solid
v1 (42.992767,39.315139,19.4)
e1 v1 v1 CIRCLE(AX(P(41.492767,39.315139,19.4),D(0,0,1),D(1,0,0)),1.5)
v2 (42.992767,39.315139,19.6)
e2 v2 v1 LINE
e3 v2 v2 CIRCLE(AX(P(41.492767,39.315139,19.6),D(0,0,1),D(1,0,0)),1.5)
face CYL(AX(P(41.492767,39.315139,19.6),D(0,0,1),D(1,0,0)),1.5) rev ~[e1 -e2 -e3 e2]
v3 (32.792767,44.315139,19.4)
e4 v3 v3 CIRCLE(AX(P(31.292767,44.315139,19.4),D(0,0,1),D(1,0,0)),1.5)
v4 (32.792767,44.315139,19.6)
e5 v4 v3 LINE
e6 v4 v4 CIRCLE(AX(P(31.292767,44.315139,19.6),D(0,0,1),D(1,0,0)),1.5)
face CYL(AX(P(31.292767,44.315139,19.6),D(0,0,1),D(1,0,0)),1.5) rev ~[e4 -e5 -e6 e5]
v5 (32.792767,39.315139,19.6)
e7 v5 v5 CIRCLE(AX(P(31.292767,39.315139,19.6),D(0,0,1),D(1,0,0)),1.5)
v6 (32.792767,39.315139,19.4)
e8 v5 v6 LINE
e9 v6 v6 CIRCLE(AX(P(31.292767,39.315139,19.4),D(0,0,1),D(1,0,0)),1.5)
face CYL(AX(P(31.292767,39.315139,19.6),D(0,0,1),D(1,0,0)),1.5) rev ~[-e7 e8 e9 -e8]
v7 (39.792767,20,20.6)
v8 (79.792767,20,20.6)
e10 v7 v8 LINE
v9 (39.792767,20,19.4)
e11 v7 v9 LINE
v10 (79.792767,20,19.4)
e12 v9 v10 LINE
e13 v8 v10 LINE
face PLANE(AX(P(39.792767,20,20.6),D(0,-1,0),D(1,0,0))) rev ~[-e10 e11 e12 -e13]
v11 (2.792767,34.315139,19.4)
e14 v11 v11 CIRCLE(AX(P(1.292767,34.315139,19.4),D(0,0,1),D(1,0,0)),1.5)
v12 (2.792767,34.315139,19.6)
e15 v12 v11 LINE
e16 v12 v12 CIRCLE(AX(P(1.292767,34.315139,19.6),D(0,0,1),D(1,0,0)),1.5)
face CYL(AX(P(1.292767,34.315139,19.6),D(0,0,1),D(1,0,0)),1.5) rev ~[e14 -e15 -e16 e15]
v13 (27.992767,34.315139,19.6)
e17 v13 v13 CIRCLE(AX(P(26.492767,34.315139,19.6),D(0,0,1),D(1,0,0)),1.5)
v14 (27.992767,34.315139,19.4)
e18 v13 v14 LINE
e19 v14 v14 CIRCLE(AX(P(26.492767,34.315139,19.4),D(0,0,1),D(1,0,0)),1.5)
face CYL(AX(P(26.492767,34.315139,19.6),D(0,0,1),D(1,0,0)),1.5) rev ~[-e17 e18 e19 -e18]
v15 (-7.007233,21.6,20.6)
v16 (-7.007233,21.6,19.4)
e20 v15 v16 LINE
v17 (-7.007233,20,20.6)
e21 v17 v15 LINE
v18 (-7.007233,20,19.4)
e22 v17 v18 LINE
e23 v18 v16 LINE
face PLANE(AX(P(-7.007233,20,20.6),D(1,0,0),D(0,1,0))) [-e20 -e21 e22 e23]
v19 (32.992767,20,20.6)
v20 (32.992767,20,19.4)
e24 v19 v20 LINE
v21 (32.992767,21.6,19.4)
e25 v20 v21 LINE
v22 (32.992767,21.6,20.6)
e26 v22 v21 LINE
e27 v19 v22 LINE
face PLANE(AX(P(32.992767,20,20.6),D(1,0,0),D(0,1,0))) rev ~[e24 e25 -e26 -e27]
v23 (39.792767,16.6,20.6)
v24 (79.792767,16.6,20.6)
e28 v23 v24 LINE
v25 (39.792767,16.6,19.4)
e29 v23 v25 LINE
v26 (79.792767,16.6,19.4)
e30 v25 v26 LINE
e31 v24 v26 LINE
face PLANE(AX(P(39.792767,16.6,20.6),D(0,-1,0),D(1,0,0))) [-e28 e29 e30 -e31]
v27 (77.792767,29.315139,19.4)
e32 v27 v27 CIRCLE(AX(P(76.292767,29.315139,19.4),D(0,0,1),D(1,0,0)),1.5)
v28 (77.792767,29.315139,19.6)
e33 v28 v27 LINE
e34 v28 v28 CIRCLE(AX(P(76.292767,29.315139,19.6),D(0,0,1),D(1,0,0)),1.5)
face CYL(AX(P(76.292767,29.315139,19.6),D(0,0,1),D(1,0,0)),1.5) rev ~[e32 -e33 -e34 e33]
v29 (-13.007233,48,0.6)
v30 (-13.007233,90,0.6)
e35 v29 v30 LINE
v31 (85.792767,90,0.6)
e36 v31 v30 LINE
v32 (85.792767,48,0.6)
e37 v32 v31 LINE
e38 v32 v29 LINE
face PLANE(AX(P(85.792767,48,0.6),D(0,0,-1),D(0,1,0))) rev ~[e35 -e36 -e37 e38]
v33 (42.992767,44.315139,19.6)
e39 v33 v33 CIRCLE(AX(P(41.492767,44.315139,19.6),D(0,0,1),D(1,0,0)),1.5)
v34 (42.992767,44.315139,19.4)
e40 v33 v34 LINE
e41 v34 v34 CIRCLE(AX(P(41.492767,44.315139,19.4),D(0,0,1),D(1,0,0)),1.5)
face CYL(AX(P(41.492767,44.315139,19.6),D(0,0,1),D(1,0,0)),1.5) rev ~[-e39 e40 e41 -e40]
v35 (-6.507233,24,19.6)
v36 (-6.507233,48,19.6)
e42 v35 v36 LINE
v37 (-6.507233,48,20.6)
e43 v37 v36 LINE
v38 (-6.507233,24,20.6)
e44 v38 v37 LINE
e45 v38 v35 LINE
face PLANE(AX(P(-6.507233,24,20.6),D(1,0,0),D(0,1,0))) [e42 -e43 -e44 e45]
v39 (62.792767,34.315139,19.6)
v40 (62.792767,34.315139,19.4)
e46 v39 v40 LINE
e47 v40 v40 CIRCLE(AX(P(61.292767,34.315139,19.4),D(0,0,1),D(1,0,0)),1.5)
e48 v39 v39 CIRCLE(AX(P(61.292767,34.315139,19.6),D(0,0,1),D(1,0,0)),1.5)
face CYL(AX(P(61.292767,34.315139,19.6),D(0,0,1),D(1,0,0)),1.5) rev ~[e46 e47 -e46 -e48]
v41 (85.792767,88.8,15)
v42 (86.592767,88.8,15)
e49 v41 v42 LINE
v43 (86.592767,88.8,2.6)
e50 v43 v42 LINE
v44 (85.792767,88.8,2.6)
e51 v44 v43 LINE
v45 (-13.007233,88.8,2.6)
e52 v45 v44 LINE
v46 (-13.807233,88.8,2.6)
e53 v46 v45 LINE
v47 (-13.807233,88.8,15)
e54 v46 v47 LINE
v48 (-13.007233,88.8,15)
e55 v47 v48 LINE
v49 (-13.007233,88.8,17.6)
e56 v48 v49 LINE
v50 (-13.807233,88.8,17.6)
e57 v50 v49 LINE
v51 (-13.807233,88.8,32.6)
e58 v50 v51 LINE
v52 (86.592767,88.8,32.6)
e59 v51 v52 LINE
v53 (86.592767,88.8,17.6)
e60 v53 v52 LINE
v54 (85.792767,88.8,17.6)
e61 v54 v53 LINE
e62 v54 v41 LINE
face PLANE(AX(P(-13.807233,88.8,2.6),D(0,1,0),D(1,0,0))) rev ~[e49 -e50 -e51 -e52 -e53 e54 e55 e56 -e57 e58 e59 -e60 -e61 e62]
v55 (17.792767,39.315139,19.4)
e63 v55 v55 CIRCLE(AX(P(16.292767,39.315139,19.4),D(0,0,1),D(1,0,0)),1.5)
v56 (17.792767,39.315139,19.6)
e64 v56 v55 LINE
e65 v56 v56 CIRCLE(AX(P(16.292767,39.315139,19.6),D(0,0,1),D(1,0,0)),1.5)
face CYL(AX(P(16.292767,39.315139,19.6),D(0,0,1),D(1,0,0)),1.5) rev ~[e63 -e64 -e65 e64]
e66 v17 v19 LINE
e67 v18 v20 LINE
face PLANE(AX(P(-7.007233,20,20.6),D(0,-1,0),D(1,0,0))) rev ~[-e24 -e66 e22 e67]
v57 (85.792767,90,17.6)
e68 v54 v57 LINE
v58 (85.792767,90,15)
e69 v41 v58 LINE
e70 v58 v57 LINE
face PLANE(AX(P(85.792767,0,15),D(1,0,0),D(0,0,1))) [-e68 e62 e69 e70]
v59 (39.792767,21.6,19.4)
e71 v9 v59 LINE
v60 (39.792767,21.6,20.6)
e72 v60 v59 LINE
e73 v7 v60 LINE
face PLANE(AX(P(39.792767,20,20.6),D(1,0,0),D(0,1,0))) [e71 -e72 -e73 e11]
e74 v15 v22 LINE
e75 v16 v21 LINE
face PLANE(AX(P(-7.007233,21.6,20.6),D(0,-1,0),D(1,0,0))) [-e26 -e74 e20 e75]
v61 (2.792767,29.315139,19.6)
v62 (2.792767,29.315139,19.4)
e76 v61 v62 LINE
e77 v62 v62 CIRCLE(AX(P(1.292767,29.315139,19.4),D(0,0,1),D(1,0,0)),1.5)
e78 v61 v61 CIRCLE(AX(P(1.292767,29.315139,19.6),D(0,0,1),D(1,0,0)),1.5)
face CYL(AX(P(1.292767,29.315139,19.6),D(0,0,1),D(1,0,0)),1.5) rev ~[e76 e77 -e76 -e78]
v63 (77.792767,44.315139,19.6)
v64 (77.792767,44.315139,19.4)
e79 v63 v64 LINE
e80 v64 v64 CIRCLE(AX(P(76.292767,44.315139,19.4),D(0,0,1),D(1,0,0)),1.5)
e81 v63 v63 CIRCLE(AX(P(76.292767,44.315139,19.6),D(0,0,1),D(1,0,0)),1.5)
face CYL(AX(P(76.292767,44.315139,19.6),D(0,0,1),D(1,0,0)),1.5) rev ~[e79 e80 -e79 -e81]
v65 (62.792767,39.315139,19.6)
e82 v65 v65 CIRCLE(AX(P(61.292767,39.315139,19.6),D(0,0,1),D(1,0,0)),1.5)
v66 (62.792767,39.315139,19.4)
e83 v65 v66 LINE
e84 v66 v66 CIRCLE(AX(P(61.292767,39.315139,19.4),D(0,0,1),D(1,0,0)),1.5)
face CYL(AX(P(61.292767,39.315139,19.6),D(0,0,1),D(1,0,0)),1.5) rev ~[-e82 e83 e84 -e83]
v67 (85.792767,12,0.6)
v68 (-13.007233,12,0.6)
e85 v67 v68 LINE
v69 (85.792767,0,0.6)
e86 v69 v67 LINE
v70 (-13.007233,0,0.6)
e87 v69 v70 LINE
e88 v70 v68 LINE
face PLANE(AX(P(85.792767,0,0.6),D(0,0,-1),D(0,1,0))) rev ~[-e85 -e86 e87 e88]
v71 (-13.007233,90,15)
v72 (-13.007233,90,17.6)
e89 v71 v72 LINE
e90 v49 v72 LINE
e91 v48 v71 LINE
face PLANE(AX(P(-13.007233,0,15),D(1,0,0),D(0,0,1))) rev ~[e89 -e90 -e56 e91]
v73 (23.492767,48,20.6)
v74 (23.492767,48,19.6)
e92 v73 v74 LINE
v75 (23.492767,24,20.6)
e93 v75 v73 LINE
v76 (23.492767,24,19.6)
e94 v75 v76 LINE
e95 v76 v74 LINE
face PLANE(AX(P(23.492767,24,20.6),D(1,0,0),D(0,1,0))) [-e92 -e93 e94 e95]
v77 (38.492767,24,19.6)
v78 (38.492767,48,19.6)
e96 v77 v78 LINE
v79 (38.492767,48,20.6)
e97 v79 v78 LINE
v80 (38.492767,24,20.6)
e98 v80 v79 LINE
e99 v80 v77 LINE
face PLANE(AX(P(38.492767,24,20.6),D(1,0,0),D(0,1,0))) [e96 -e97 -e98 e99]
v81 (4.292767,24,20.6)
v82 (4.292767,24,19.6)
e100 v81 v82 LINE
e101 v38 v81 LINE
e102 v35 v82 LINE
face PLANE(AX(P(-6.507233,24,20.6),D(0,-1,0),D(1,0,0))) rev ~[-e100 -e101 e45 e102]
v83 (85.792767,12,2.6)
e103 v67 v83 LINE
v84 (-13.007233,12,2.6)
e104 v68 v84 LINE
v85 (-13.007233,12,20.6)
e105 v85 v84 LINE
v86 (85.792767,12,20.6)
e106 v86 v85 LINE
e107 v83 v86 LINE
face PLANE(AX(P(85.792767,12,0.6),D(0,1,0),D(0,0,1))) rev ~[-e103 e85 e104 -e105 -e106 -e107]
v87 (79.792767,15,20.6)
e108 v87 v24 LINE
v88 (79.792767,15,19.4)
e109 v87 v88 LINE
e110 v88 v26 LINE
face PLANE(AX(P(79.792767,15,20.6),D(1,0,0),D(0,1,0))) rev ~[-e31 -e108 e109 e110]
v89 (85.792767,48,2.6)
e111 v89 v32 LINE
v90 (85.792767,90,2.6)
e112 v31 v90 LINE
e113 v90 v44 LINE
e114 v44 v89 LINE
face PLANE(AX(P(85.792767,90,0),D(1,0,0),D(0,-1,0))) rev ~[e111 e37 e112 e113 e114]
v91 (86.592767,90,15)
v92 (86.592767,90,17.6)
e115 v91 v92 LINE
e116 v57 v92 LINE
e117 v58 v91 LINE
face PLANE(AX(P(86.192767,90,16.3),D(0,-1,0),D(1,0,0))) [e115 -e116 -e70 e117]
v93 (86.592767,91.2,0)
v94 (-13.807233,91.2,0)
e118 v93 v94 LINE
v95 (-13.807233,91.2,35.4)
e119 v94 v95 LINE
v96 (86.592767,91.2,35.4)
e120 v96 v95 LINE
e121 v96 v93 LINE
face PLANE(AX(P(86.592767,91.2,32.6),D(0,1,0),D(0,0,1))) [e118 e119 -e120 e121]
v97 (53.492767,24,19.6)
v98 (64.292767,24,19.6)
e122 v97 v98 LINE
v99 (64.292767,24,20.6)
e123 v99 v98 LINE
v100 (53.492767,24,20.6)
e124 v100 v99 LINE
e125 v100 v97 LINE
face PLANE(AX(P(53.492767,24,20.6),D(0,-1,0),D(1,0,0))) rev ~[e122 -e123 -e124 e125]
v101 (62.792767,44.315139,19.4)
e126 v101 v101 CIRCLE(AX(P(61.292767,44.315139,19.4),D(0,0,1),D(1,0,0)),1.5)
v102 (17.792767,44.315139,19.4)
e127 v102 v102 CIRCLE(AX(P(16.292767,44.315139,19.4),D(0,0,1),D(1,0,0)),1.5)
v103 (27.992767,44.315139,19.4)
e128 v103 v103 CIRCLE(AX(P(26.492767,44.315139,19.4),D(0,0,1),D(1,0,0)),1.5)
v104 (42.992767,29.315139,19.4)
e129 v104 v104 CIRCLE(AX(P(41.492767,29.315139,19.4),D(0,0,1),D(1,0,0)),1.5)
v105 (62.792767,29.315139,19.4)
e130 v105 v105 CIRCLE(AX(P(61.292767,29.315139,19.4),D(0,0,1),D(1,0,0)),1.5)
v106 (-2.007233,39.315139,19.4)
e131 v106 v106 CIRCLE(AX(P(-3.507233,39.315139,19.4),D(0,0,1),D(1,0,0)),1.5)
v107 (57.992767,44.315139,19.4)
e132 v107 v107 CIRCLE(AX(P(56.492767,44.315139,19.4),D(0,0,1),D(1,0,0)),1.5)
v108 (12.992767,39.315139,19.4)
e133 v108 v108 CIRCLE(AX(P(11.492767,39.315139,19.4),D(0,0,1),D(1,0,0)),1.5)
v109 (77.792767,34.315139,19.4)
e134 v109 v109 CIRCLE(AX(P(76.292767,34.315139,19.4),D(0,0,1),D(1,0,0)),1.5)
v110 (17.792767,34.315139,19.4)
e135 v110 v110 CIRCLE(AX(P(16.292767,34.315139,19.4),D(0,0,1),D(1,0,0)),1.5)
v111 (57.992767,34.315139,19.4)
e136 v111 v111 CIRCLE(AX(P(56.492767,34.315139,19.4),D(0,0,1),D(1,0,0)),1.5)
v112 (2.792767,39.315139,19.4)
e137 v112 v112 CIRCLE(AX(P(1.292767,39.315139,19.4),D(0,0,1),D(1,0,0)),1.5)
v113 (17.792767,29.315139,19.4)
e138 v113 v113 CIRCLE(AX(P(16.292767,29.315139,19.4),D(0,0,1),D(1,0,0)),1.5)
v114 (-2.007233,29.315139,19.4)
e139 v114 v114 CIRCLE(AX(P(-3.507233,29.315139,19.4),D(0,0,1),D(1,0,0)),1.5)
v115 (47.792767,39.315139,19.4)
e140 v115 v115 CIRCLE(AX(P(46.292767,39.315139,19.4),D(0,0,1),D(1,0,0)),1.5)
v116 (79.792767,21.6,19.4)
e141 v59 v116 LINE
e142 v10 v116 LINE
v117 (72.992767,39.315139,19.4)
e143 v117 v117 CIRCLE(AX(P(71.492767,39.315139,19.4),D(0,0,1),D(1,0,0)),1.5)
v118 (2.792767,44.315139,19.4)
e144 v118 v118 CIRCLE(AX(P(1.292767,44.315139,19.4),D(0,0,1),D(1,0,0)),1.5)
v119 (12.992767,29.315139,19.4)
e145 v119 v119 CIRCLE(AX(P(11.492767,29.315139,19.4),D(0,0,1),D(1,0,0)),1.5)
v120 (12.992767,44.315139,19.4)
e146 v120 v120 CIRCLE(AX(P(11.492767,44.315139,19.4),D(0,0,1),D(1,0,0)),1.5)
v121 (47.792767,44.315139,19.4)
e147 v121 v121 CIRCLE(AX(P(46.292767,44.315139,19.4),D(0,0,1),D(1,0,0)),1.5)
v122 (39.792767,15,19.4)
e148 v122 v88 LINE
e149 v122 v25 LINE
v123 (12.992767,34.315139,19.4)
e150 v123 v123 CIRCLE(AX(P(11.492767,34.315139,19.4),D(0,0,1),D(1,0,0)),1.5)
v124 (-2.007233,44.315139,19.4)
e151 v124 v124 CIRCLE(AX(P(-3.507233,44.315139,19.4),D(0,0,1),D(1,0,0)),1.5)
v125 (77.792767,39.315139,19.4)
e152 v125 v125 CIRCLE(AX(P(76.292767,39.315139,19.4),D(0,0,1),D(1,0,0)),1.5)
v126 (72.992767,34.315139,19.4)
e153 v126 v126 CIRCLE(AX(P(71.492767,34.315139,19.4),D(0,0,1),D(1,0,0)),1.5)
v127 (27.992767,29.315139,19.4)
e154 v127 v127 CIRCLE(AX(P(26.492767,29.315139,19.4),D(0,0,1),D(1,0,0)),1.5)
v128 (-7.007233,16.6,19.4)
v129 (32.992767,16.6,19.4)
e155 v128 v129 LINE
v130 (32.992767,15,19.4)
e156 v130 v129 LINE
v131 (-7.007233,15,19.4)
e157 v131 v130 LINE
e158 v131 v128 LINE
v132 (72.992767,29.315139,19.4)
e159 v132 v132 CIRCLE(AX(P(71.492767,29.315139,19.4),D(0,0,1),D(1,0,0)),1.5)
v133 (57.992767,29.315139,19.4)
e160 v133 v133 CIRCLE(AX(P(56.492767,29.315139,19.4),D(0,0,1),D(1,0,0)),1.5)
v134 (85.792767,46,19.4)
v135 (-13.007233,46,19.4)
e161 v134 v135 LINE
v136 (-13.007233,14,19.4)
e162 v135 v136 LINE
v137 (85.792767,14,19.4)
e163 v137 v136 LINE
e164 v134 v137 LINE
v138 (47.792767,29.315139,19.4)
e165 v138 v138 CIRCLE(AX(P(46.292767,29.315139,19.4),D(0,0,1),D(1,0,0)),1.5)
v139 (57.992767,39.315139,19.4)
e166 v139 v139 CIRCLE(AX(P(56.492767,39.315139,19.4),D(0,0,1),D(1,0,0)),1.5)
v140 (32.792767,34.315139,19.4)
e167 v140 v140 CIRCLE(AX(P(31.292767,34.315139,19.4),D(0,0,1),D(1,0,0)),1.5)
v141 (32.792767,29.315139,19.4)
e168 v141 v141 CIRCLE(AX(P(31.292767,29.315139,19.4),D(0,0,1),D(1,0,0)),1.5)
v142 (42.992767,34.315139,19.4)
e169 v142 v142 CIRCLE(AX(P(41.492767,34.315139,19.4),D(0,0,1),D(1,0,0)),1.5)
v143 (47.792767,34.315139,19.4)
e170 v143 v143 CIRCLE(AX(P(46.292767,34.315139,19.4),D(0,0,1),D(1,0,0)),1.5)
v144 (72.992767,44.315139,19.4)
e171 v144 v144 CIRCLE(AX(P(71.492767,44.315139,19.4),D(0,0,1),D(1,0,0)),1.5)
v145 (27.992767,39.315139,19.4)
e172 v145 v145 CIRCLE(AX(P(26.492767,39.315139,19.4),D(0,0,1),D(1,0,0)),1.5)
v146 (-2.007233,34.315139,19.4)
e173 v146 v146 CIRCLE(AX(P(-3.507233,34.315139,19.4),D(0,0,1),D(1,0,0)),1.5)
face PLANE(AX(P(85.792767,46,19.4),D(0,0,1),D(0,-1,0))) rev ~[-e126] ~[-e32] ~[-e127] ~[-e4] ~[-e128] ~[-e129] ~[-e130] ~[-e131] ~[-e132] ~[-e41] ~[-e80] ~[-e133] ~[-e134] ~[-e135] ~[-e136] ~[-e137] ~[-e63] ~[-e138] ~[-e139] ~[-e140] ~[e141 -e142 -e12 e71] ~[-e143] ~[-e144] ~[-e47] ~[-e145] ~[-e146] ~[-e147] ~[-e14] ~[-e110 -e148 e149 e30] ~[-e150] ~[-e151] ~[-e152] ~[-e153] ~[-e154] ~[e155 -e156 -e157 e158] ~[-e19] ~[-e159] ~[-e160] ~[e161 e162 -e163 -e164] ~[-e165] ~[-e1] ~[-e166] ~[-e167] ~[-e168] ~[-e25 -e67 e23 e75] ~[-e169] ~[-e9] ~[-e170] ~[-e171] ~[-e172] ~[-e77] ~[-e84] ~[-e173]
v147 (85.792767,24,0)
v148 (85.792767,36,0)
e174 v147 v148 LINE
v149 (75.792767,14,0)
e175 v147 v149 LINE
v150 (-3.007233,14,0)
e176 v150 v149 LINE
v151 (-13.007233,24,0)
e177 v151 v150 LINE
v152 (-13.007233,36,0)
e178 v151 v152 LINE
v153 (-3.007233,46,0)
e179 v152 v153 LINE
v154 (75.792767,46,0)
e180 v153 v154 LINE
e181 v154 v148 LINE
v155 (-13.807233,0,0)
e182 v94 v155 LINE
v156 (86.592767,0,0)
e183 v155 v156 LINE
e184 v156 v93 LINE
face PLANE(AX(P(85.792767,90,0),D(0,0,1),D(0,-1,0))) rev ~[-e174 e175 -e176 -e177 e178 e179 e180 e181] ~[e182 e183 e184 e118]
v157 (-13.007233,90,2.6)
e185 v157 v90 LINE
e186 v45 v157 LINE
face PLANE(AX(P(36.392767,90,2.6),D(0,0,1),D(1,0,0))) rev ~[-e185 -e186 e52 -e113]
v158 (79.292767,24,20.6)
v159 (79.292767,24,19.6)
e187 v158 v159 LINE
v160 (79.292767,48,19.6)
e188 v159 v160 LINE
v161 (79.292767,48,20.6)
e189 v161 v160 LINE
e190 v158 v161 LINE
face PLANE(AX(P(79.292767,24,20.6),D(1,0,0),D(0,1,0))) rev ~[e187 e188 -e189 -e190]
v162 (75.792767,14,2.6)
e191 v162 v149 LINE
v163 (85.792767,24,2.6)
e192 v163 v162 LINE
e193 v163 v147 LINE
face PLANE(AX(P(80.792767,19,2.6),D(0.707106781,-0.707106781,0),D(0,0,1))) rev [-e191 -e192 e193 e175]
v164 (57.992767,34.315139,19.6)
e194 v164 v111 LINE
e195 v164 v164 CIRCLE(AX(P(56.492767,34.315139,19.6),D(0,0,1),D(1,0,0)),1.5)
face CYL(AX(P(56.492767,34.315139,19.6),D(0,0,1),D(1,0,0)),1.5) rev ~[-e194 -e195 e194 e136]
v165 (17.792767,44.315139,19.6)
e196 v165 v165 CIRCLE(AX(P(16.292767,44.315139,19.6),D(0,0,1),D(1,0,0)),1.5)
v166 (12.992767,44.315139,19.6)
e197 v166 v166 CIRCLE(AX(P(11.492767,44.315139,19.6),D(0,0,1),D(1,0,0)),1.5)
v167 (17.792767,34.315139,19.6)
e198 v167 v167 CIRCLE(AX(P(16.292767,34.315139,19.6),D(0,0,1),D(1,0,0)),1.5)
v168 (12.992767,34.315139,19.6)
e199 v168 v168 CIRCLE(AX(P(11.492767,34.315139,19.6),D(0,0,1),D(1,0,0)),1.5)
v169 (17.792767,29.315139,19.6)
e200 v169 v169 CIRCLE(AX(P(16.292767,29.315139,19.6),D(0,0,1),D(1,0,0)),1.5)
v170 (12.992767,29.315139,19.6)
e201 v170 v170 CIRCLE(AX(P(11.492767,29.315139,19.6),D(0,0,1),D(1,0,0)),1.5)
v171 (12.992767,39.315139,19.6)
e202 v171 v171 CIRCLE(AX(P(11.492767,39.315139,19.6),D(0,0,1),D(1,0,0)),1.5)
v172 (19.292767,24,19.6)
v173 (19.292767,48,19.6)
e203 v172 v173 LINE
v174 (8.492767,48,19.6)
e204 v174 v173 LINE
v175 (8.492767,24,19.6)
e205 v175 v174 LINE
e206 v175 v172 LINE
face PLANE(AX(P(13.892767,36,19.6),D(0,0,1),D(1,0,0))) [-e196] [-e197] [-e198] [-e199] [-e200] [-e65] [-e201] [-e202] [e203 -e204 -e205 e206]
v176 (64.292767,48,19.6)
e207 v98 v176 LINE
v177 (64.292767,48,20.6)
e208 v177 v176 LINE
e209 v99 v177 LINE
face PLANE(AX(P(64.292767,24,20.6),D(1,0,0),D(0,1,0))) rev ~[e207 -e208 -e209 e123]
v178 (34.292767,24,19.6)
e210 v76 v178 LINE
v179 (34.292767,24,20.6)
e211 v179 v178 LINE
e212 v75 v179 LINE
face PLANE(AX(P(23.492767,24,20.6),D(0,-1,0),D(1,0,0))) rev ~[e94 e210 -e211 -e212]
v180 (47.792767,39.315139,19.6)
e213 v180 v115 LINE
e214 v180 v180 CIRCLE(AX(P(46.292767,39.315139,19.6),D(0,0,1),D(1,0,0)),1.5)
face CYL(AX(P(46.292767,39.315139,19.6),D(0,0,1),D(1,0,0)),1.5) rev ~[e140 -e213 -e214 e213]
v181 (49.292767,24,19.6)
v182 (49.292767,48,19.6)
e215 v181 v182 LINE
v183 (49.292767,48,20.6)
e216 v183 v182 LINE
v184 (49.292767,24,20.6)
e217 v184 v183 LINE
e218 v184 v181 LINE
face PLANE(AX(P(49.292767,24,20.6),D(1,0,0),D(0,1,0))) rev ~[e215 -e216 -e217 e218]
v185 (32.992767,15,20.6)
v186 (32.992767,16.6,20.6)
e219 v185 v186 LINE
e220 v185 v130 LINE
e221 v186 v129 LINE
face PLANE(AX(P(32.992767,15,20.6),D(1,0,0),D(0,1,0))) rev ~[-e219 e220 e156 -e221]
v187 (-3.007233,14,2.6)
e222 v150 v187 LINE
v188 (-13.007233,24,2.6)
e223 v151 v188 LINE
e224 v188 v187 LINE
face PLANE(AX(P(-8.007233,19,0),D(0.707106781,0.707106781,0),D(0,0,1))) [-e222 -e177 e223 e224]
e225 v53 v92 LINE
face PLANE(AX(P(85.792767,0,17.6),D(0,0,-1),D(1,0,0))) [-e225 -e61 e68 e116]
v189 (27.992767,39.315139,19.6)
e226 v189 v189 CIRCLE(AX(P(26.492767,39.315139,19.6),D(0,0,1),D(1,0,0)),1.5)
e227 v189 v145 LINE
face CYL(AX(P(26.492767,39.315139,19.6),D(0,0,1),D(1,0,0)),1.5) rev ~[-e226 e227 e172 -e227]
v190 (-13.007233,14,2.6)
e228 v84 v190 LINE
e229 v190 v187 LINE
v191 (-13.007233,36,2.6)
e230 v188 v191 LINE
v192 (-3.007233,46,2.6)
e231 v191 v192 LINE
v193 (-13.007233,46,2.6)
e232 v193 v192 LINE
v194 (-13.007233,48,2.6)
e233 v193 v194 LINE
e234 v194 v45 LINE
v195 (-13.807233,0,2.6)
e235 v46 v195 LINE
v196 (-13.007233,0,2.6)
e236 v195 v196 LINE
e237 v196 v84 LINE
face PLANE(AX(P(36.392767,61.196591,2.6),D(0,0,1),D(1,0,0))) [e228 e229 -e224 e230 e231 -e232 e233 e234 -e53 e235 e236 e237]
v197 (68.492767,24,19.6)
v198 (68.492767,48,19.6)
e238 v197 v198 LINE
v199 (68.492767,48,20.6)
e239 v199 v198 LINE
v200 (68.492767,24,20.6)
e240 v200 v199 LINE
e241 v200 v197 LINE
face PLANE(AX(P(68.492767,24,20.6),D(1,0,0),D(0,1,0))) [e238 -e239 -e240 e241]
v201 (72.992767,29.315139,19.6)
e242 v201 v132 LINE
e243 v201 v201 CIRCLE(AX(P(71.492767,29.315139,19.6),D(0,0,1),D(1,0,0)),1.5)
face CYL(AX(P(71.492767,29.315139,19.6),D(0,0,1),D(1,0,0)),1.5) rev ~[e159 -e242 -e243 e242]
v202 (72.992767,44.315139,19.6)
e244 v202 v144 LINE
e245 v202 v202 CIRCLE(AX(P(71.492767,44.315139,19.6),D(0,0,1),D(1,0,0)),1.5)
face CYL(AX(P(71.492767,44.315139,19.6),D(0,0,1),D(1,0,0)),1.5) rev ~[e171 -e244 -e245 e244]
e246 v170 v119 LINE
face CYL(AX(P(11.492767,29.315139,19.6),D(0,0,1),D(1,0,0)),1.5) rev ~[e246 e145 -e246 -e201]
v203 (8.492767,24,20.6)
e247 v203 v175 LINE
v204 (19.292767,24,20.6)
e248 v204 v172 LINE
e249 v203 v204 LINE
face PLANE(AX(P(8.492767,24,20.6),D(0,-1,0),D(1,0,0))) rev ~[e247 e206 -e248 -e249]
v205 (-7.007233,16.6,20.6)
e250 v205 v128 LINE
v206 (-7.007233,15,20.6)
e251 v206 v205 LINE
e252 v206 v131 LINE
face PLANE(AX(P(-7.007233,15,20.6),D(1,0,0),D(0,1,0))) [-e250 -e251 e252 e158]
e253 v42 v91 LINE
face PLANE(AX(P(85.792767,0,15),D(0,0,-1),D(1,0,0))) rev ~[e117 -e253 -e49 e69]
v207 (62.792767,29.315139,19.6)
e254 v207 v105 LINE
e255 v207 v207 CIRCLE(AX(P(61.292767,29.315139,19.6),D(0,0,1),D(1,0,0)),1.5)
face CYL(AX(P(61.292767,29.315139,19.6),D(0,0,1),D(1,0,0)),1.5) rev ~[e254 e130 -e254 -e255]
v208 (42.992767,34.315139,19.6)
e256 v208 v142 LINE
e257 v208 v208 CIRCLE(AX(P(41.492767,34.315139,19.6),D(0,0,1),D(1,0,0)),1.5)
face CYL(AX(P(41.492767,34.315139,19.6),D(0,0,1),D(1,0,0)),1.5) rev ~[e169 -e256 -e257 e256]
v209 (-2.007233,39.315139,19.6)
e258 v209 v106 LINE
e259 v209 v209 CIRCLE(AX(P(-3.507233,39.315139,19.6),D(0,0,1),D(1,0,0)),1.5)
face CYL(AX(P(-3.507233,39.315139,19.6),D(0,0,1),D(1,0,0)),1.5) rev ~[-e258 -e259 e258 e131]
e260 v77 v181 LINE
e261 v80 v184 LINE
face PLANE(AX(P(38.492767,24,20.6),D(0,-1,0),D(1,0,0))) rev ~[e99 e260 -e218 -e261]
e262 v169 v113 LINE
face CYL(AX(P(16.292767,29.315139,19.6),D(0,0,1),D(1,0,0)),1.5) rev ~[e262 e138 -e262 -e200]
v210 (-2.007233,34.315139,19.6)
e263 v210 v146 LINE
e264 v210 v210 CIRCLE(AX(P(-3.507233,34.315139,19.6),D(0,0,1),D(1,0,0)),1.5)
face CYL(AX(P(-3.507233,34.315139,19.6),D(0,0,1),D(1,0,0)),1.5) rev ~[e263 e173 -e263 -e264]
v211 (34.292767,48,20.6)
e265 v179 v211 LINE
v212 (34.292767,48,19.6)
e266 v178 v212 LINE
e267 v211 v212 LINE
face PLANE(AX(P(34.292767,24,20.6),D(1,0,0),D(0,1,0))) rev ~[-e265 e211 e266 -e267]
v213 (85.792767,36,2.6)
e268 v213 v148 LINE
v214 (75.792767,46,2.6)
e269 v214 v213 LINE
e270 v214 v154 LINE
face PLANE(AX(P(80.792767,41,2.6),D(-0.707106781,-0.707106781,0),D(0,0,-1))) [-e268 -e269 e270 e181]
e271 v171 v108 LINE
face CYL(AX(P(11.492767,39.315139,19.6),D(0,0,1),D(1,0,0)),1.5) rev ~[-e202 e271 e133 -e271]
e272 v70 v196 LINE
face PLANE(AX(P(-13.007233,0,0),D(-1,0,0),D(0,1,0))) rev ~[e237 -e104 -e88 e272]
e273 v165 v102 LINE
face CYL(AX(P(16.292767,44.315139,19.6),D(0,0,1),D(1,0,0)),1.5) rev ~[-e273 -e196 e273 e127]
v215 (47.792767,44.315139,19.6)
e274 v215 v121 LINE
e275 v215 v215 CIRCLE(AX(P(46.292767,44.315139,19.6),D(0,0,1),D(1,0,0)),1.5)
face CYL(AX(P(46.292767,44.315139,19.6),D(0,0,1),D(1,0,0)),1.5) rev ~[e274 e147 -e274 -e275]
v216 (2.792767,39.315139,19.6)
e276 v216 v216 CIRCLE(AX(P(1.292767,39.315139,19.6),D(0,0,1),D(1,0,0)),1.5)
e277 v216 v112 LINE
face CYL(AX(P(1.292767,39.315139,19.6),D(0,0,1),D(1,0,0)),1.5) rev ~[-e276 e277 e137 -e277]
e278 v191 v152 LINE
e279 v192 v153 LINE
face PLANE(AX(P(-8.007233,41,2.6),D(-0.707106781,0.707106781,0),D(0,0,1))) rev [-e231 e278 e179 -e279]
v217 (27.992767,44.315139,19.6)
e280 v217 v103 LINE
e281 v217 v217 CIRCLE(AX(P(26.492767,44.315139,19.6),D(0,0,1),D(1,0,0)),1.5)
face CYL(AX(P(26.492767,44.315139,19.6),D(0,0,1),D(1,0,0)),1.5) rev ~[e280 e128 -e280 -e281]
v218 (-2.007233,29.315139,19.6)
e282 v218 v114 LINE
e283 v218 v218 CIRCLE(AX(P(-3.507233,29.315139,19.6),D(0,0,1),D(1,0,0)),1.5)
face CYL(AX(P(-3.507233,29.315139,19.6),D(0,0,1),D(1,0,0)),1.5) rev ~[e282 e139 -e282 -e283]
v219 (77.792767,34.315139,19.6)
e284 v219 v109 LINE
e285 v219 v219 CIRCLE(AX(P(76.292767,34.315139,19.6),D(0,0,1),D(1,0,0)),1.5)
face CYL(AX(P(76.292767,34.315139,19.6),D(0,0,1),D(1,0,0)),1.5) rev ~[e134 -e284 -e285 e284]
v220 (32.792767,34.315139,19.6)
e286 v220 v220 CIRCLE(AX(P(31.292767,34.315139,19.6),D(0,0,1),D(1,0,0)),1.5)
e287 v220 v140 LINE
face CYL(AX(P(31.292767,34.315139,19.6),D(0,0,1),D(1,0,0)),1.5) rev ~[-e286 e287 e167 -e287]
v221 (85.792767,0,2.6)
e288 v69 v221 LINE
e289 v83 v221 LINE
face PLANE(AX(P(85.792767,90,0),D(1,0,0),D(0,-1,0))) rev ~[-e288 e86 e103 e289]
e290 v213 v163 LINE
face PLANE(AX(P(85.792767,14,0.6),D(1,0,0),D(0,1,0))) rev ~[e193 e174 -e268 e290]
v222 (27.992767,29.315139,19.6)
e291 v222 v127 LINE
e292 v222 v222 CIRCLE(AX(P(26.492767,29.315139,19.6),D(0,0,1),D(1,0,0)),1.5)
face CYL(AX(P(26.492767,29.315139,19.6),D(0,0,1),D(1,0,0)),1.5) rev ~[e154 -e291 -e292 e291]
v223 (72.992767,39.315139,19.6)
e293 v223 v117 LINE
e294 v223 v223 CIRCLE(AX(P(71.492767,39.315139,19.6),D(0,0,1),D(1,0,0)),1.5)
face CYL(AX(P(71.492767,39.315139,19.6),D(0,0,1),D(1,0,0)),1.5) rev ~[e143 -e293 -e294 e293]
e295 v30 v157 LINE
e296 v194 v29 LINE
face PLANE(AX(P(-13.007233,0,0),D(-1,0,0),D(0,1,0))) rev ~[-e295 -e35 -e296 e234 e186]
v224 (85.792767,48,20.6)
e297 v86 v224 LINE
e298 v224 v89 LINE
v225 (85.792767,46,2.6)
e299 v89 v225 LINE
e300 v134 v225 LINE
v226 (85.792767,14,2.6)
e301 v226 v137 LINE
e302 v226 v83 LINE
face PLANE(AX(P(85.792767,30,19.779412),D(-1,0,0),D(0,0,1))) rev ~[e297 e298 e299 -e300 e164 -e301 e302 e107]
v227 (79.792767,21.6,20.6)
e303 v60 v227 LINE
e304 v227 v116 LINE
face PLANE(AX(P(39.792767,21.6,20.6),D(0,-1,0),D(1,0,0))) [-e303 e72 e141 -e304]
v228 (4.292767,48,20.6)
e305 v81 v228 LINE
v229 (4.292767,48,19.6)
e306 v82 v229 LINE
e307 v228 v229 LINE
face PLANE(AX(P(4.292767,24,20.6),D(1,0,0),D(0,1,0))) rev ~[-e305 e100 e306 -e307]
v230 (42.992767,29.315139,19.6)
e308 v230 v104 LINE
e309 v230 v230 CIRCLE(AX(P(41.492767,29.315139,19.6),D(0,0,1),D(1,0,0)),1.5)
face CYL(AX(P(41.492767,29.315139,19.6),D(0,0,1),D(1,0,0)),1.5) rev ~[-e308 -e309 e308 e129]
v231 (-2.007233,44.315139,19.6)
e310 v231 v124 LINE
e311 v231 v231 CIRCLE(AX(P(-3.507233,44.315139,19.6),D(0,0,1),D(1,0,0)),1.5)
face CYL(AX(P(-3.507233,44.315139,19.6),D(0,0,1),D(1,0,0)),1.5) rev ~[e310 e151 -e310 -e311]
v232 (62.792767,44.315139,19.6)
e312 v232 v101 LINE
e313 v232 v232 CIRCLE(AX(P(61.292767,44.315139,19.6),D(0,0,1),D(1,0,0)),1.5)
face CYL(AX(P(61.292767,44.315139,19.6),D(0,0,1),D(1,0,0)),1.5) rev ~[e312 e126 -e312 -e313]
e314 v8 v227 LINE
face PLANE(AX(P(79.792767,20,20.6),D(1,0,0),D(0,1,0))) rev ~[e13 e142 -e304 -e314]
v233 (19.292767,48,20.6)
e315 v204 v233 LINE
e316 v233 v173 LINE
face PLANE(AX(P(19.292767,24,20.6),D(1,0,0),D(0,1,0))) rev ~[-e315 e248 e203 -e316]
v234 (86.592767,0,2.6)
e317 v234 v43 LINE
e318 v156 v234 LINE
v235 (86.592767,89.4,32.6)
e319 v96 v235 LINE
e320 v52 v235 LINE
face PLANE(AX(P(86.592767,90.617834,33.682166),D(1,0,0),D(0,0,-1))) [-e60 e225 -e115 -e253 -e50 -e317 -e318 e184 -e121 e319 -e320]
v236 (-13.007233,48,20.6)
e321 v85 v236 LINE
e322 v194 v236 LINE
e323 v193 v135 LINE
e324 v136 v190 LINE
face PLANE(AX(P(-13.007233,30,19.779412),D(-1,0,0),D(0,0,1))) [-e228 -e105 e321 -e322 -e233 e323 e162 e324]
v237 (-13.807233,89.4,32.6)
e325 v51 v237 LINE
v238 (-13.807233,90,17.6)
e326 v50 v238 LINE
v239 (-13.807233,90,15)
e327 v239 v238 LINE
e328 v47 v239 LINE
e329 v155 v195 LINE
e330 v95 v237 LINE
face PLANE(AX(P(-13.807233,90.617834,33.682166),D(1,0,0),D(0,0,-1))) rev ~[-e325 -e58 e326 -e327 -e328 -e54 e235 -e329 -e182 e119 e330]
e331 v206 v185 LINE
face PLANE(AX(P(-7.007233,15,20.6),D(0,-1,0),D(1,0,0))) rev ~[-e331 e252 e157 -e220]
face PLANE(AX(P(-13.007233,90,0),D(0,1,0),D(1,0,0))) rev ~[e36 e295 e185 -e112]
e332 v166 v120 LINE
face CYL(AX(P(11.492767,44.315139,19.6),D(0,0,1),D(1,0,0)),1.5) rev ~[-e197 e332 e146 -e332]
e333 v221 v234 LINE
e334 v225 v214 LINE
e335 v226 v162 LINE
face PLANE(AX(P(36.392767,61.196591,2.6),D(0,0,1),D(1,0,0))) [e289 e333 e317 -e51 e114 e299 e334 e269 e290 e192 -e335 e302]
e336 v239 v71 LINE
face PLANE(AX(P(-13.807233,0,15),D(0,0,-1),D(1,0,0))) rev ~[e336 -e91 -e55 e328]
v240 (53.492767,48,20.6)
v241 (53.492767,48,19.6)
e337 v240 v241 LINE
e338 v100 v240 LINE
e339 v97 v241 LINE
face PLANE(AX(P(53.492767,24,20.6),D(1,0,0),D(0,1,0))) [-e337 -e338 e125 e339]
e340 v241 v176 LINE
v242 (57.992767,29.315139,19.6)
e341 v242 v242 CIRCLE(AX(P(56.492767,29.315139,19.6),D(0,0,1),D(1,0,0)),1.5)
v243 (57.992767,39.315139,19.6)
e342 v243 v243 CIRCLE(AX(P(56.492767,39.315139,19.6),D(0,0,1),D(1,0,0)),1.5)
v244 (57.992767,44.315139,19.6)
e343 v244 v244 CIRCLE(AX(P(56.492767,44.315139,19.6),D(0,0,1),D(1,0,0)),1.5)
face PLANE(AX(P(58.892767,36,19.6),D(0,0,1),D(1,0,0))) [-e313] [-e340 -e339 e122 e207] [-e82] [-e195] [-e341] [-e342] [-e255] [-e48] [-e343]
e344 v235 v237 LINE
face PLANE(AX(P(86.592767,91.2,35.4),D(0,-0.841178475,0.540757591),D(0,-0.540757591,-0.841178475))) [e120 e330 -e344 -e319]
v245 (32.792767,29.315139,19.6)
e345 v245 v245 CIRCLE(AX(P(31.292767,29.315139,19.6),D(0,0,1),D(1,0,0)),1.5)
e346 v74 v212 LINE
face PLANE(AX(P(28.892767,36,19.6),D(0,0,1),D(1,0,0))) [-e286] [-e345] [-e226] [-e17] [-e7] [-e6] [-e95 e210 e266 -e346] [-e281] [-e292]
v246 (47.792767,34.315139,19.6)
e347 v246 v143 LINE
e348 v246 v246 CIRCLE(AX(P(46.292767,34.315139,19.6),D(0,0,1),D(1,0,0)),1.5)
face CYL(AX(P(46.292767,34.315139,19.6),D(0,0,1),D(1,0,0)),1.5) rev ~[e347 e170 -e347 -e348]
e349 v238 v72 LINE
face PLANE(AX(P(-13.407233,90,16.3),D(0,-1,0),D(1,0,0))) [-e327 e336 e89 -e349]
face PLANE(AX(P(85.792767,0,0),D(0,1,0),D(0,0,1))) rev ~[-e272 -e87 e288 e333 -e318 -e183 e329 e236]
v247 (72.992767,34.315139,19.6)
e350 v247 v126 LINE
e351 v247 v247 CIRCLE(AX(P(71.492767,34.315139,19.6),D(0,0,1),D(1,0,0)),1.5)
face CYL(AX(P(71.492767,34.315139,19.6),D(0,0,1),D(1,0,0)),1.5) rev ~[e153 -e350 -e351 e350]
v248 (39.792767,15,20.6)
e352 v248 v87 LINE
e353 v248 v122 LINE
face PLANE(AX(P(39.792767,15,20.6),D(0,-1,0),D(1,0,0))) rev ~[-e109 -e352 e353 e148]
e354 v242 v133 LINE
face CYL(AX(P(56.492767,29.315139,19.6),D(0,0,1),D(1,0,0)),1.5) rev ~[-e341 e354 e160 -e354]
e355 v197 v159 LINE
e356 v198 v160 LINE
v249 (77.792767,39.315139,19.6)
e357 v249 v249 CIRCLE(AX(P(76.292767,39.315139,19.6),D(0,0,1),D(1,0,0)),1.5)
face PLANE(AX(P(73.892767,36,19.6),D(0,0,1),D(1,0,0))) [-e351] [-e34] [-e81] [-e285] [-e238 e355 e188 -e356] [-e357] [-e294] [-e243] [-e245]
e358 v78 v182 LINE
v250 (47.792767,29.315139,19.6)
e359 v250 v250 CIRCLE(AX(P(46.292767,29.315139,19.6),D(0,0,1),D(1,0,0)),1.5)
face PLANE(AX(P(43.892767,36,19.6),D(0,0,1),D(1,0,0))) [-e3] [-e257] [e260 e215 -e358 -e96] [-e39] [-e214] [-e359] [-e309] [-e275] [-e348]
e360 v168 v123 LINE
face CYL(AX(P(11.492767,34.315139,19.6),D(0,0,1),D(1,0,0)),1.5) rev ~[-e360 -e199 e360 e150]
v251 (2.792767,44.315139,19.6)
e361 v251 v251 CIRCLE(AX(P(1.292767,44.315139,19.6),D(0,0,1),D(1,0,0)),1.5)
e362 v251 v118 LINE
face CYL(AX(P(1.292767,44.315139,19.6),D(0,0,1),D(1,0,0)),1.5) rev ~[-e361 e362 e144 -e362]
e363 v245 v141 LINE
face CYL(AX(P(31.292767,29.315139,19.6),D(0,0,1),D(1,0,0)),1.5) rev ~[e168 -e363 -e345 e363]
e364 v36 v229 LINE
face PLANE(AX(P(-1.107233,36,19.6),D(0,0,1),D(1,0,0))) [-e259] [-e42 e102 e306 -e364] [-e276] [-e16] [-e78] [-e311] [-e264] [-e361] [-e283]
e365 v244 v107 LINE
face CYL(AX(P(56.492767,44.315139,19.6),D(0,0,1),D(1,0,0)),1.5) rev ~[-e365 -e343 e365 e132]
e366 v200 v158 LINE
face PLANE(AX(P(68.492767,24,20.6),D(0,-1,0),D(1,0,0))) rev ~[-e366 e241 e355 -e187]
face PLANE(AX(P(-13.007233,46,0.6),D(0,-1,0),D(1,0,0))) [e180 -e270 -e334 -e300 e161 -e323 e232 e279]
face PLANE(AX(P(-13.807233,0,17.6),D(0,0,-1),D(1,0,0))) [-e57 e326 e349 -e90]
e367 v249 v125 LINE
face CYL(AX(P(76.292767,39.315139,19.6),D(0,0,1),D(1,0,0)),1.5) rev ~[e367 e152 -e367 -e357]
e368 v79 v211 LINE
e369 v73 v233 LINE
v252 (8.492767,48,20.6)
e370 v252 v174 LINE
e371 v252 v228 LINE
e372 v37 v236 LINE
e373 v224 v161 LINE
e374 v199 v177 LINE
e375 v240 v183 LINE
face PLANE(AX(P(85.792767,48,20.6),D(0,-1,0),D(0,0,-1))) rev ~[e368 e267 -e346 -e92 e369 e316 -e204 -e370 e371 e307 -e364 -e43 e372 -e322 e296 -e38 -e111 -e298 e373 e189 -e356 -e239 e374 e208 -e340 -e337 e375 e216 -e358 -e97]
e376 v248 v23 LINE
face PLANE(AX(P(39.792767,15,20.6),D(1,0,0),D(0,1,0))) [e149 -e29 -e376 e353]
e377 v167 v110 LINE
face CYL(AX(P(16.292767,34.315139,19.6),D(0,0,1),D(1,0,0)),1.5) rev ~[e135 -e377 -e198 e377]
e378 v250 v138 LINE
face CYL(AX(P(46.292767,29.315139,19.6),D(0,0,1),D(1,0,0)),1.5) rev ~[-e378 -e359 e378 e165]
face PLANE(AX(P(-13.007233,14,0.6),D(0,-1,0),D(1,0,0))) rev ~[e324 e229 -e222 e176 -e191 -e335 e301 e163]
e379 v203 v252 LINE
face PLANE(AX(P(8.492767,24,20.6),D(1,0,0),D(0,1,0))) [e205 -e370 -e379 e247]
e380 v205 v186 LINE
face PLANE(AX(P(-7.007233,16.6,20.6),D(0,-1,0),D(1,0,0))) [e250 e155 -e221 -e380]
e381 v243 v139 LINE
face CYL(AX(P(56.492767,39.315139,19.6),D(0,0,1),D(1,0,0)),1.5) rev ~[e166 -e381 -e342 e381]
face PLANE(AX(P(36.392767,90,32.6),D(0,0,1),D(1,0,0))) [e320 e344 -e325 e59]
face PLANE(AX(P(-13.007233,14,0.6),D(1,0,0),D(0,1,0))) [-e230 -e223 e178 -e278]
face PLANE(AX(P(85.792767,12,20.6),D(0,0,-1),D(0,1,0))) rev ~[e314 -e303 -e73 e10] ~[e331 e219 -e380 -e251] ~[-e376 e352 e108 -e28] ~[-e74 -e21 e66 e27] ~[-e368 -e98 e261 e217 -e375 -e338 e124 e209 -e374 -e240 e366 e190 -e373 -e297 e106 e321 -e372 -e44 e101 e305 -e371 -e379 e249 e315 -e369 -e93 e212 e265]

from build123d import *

# Parameters (mm, degrees)
BOSS_EXTRUDE1_DEPTH = 2.6
SKETCH2_W           = 100.4
SKETCH2_H           = 2.4
BOSS_EXTRUDE2_DEPTH = 30
LPATTERN1_COUNT     = 2
LPATTERN1_PITCH     = 15
SKETCH5_W           = 2.6
SKETCH5_H           = 2
BOSS_EXTRUDE4_DEPTH = 98.8
SKETCH7_W           = 0.8
SKETCH7_H           = 2.6
CUT_EXTRUDE1_DEPTH  = 90
SKETCH8_W           = 0.8
SKETCH8_H           = 2.6
CUT_EXTRUDE2_DEPTH  = 90
BOSS_EXTRUDE5_DEPTH = 100.4
SKETCH11_W          = 10.8
SKETCH11_H          = 24
CUT_EXTRUDE3_DEPTH  = 1
LPATTERN2_COUNT     = 6
LPATTERN2_PITCH     = 15
SKETCH13_W          = 98.8
SKETCH13_H          = 32
CUT_EXTRUDE4_DEPTH  = 10
CHAMFER1_SIZE       = 10
SKETCH15_R          = 1.5
CUT_EXTRUDE17_DEPTH = 10
SKETCH18_W          = 40
SKETCH18_H          = 1.6
CUT_EXTRUDE18_DEPTH = 10


with BuildPart() as part:
    # Sketch1 → Boss-Extrude1 (new body)
    with BuildSketch(Plane.XY):
        Polygon((-13.007233288, 0), (-13.007233288, 90), (85.792766712, 90), (85.792766712, 0), (86.592766712, 0), (86.592766712, 91.2), (-13.807233288, 91.2), (-13.807233288, 0), align=None)
    boss_extrude1 = extrude(amount=BOSS_EXTRUDE1_DEPTH)

    # Sketch2 → Boss-Extrude2 (add)
    with BuildSketch(Plane.XY.offset(2.6)):
        with Locations((36.392766712, 90)):
            Rectangle(SKETCH2_W, SKETCH2_H)
    extrude(amount=BOSS_EXTRUDE2_DEPTH)

    # LPattern1: Boss-Extrude1 ×2
    with Locations(*[(0, 0, i * LPATTERN1_PITCH) for i in range(1, LPATTERN1_COUNT)]):
        add(boss_extrude1)

    # Sketch5 → Boss-Extrude4 (add)
    with BuildSketch(Plane.ZY.offset(-85.792766712)):
        Polygon((20.6, 12), (20.6, 48), (17.6, 48), (17.6, 46), (19.4, 46), (19.4, 14), (17.6, 14), (17.6, 12), align=None)
        Polygon((15, 46), (15, 48), (5.6, 48), (0.6, 48), (0.6, 90), (0, 90), (0, 48.076108626), (0, 12.076108626), (0, 0), (0.6, 0), (0.6, 12), (5.6, 12), (15, 12), (15, 14), (0.6, 14), (0.6, 46), align=None)
        with Locations((16.3, 13)):
            Rectangle(SKETCH5_W, SKETCH5_H)
        with Locations((16.3, 47)):
            Rectangle(SKETCH5_W, SKETCH5_H)
    extrude(amount=BOSS_EXTRUDE4_DEPTH)

    # Sketch7 → Cut-Extrude1 (cut)
    with BuildSketch(Plane.XZ):
        with Locations((-13.407233288, 16.3)):
            Rectangle(SKETCH7_W, SKETCH7_H)
    extrude(amount=-CUT_EXTRUDE1_DEPTH, mode=Mode.SUBTRACT)

    # Sketch8 → Cut-Extrude2 (cut)
    with BuildSketch(Plane.XZ):
        with Locations((86.192766712, 16.3)):
            Rectangle(SKETCH8_W, SKETCH8_H)
    extrude(amount=-CUT_EXTRUDE2_DEPTH, mode=Mode.SUBTRACT)

    # Sketch10 → Boss-Extrude5 (add)
    with BuildSketch(Plane(origin=(86.592766712, 0, 0), x_dir=(0, 0, -1), z_dir=(1, 0, 0))):
        Polygon((-35.4, 91.2), (-32.6, 89.4), (-32.6, 91.2), align=None)
    extrude(amount=-BOSS_EXTRUDE5_DEPTH)

    # Sketch11 → Cut-Extrude3 (cut)
    with BuildSketch(Plane.XY.offset(20.6)):
        with Locations((-1.107233288, 36)):
            Rectangle(SKETCH11_W, SKETCH11_H)
    cut_extrude3 = extrude(amount=-CUT_EXTRUDE3_DEPTH, mode=Mode.SUBTRACT)

    # LPattern2: Cut-Extrude3 ×6
    with Locations(*[(i * LPATTERN2_PITCH, 0, 0) for i in range(1, LPATTERN2_COUNT)]):
        add(cut_extrude3, mode=Mode.SUBTRACT)

    # Sketch13 → Cut-Extrude4 (cut)
    with BuildSketch(Plane.XY.offset(0.6)):
        with Locations((36.392766712, 30)):
            Rectangle(SKETCH13_W, SKETCH13_H)
    extrude(amount=-CUT_EXTRUDE4_DEPTH, mode=Mode.SUBTRACT)

    # Chamfer1
    chamfer1_edges = [part.edges().sort_by_distance(p)[0] for p in [
        (85.792766712, 46, 1.3),
        (-13.007233288, 14, 1.3),
        (-13.007233288, 46, 1.3),
        (85.792766712, 14, 1.3),
    ]]
    chamfer(chamfer1_edges, length=CHAMFER1_SIZE)

    # Sketch15 → Cut-Extrude17 (cut)
    with BuildSketch(Plane.XY.offset(19.6)):
        with Locations((-3.507233288, 44.31513876)):
            Circle(SKETCH15_R)
        with Locations((1.292766712, 44.31513876)):
            Circle(SKETCH15_R)
        with Locations((11.492766712, 44.31513876)):
            Circle(SKETCH15_R)
        with Locations((16.292766712, 44.31513876)):
            Circle(SKETCH15_R)
        with Locations((26.492766712, 44.31513876)):
            Circle(SKETCH15_R)
        with Locations((31.292766712, 44.31513876)):
            Circle(SKETCH15_R)
        with Locations((41.492766712, 44.31513876)):
            Circle(SKETCH15_R)
        with Locations((46.292766712, 44.31513876)):
            Circle(SKETCH15_R)
        with Locations((56.492766712, 44.31513876)):
            Circle(SKETCH15_R)
        with Locations((61.292766712, 44.31513876)):
            Circle(SKETCH15_R)
        with Locations((71.492766712, 44.31513876)):
            Circle(SKETCH15_R)
        with Locations((76.292766712, 44.31513876)):
            Circle(SKETCH15_R)
        with Locations((11.492766712, 39.31513876)):
            Circle(SKETCH15_R)
        with Locations((16.292766712, 39.31513876)):
            Circle(SKETCH15_R)
        with Locations((26.492766712, 39.31513876)):
            Circle(SKETCH15_R)
        with Locations((31.292766712, 39.31513876)):
            Circle(SKETCH15_R)
        with Locations((41.492766712, 39.31513876)):
            Circle(SKETCH15_R)
        with Locations((46.292766712, 39.31513876)):
            Circle(SKETCH15_R)
        with Locations((56.492766712, 39.31513876)):
            Circle(SKETCH15_R)
        with Locations((61.292766712, 39.31513876)):
            Circle(SKETCH15_R)
        with Locations((71.492766712, 39.31513876)):
            Circle(SKETCH15_R)
        with Locations((76.292766712, 39.31513876)):
            Circle(SKETCH15_R)
        with Locations((11.492766712, 34.31513876)):
            Circle(SKETCH15_R)
        with Locations((16.292766712, 34.31513876)):
            Circle(SKETCH15_R)
        with Locations((26.492766712, 34.31513876)):
            Circle(SKETCH15_R)
        with Locations((31.292766712, 34.31513876)):
            Circle(SKETCH15_R)
        with Locations((41.492766712, 34.31513876)):
            Circle(SKETCH15_R)
        with Locations((46.292766712, 34.31513876)):
            Circle(SKETCH15_R)
        with Locations((56.492766712, 34.31513876)):
            Circle(SKETCH15_R)
        with Locations((61.292766712, 34.31513876)):
            Circle(SKETCH15_R)
        with Locations((71.492766712, 34.31513876)):
            Circle(SKETCH15_R)
        with Locations((76.292766712, 34.31513876)):
            Circle(SKETCH15_R)
        with Locations((11.492766712, 29.31513876)):
            Circle(SKETCH15_R)
        with Locations((16.292766712, 29.31513876)):
            Circle(SKETCH15_R)
        with Locations((26.492766712, 29.31513876)):
            Circle(SKETCH15_R)
        with Locations((31.292766712, 29.31513876)):
            Circle(SKETCH15_R)
        with Locations((41.492766712, 29.31513876)):
            Circle(SKETCH15_R)
        with Locations((46.292766712, 29.31513876)):
            Circle(SKETCH15_R)
        with Locations((56.492766712, 29.31513876)):
            Circle(SKETCH15_R)
        with Locations((61.292766712, 29.31513876)):
            Circle(SKETCH15_R)
        with Locations((71.492766712, 29.31513876)):
            Circle(SKETCH15_R)
        with Locations((76.292766712, 29.31513876)):
            Circle(SKETCH15_R)
        with Locations((-3.507233288, 39.31513876)):
            Circle(SKETCH15_R)
        with Locations((1.292766712, 39.31513876)):
            Circle(SKETCH15_R)
        with Locations((-3.507233288, 34.31513876)):
            Circle(SKETCH15_R)
        with Locations((1.292766712, 34.31513876)):
            Circle(SKETCH15_R)
        with Locations((-3.507233288, 29.31513876)):
            Circle(SKETCH15_R)
        with Locations((1.292766712, 29.31513876)):
            Circle(SKETCH15_R)
    extrude(amount=-CUT_EXTRUDE17_DEPTH, mode=Mode.SUBTRACT)

    # Sketch18 → Cut-Extrude18 (cut)
    with BuildSketch(Plane.XY.offset(20.6)):
        with Locations((59.792766712, 20.8)):
            Rectangle(SKETCH18_W, SKETCH18_H)
        with Locations((12.992766712, 20.8)):
            Rectangle(SKETCH18_W, SKETCH18_H)
        with Locations((59.792766712, 15.8)):
            Rectangle(SKETCH18_W, SKETCH18_H)
        with Locations((12.992766712, 15.8)):
            Rectangle(SKETCH18_W, SKETCH18_H)
    extrude(amount=-CUT_EXTRUDE18_DEPTH, mode=Mode.SUBTRACT)


solid = part.part
